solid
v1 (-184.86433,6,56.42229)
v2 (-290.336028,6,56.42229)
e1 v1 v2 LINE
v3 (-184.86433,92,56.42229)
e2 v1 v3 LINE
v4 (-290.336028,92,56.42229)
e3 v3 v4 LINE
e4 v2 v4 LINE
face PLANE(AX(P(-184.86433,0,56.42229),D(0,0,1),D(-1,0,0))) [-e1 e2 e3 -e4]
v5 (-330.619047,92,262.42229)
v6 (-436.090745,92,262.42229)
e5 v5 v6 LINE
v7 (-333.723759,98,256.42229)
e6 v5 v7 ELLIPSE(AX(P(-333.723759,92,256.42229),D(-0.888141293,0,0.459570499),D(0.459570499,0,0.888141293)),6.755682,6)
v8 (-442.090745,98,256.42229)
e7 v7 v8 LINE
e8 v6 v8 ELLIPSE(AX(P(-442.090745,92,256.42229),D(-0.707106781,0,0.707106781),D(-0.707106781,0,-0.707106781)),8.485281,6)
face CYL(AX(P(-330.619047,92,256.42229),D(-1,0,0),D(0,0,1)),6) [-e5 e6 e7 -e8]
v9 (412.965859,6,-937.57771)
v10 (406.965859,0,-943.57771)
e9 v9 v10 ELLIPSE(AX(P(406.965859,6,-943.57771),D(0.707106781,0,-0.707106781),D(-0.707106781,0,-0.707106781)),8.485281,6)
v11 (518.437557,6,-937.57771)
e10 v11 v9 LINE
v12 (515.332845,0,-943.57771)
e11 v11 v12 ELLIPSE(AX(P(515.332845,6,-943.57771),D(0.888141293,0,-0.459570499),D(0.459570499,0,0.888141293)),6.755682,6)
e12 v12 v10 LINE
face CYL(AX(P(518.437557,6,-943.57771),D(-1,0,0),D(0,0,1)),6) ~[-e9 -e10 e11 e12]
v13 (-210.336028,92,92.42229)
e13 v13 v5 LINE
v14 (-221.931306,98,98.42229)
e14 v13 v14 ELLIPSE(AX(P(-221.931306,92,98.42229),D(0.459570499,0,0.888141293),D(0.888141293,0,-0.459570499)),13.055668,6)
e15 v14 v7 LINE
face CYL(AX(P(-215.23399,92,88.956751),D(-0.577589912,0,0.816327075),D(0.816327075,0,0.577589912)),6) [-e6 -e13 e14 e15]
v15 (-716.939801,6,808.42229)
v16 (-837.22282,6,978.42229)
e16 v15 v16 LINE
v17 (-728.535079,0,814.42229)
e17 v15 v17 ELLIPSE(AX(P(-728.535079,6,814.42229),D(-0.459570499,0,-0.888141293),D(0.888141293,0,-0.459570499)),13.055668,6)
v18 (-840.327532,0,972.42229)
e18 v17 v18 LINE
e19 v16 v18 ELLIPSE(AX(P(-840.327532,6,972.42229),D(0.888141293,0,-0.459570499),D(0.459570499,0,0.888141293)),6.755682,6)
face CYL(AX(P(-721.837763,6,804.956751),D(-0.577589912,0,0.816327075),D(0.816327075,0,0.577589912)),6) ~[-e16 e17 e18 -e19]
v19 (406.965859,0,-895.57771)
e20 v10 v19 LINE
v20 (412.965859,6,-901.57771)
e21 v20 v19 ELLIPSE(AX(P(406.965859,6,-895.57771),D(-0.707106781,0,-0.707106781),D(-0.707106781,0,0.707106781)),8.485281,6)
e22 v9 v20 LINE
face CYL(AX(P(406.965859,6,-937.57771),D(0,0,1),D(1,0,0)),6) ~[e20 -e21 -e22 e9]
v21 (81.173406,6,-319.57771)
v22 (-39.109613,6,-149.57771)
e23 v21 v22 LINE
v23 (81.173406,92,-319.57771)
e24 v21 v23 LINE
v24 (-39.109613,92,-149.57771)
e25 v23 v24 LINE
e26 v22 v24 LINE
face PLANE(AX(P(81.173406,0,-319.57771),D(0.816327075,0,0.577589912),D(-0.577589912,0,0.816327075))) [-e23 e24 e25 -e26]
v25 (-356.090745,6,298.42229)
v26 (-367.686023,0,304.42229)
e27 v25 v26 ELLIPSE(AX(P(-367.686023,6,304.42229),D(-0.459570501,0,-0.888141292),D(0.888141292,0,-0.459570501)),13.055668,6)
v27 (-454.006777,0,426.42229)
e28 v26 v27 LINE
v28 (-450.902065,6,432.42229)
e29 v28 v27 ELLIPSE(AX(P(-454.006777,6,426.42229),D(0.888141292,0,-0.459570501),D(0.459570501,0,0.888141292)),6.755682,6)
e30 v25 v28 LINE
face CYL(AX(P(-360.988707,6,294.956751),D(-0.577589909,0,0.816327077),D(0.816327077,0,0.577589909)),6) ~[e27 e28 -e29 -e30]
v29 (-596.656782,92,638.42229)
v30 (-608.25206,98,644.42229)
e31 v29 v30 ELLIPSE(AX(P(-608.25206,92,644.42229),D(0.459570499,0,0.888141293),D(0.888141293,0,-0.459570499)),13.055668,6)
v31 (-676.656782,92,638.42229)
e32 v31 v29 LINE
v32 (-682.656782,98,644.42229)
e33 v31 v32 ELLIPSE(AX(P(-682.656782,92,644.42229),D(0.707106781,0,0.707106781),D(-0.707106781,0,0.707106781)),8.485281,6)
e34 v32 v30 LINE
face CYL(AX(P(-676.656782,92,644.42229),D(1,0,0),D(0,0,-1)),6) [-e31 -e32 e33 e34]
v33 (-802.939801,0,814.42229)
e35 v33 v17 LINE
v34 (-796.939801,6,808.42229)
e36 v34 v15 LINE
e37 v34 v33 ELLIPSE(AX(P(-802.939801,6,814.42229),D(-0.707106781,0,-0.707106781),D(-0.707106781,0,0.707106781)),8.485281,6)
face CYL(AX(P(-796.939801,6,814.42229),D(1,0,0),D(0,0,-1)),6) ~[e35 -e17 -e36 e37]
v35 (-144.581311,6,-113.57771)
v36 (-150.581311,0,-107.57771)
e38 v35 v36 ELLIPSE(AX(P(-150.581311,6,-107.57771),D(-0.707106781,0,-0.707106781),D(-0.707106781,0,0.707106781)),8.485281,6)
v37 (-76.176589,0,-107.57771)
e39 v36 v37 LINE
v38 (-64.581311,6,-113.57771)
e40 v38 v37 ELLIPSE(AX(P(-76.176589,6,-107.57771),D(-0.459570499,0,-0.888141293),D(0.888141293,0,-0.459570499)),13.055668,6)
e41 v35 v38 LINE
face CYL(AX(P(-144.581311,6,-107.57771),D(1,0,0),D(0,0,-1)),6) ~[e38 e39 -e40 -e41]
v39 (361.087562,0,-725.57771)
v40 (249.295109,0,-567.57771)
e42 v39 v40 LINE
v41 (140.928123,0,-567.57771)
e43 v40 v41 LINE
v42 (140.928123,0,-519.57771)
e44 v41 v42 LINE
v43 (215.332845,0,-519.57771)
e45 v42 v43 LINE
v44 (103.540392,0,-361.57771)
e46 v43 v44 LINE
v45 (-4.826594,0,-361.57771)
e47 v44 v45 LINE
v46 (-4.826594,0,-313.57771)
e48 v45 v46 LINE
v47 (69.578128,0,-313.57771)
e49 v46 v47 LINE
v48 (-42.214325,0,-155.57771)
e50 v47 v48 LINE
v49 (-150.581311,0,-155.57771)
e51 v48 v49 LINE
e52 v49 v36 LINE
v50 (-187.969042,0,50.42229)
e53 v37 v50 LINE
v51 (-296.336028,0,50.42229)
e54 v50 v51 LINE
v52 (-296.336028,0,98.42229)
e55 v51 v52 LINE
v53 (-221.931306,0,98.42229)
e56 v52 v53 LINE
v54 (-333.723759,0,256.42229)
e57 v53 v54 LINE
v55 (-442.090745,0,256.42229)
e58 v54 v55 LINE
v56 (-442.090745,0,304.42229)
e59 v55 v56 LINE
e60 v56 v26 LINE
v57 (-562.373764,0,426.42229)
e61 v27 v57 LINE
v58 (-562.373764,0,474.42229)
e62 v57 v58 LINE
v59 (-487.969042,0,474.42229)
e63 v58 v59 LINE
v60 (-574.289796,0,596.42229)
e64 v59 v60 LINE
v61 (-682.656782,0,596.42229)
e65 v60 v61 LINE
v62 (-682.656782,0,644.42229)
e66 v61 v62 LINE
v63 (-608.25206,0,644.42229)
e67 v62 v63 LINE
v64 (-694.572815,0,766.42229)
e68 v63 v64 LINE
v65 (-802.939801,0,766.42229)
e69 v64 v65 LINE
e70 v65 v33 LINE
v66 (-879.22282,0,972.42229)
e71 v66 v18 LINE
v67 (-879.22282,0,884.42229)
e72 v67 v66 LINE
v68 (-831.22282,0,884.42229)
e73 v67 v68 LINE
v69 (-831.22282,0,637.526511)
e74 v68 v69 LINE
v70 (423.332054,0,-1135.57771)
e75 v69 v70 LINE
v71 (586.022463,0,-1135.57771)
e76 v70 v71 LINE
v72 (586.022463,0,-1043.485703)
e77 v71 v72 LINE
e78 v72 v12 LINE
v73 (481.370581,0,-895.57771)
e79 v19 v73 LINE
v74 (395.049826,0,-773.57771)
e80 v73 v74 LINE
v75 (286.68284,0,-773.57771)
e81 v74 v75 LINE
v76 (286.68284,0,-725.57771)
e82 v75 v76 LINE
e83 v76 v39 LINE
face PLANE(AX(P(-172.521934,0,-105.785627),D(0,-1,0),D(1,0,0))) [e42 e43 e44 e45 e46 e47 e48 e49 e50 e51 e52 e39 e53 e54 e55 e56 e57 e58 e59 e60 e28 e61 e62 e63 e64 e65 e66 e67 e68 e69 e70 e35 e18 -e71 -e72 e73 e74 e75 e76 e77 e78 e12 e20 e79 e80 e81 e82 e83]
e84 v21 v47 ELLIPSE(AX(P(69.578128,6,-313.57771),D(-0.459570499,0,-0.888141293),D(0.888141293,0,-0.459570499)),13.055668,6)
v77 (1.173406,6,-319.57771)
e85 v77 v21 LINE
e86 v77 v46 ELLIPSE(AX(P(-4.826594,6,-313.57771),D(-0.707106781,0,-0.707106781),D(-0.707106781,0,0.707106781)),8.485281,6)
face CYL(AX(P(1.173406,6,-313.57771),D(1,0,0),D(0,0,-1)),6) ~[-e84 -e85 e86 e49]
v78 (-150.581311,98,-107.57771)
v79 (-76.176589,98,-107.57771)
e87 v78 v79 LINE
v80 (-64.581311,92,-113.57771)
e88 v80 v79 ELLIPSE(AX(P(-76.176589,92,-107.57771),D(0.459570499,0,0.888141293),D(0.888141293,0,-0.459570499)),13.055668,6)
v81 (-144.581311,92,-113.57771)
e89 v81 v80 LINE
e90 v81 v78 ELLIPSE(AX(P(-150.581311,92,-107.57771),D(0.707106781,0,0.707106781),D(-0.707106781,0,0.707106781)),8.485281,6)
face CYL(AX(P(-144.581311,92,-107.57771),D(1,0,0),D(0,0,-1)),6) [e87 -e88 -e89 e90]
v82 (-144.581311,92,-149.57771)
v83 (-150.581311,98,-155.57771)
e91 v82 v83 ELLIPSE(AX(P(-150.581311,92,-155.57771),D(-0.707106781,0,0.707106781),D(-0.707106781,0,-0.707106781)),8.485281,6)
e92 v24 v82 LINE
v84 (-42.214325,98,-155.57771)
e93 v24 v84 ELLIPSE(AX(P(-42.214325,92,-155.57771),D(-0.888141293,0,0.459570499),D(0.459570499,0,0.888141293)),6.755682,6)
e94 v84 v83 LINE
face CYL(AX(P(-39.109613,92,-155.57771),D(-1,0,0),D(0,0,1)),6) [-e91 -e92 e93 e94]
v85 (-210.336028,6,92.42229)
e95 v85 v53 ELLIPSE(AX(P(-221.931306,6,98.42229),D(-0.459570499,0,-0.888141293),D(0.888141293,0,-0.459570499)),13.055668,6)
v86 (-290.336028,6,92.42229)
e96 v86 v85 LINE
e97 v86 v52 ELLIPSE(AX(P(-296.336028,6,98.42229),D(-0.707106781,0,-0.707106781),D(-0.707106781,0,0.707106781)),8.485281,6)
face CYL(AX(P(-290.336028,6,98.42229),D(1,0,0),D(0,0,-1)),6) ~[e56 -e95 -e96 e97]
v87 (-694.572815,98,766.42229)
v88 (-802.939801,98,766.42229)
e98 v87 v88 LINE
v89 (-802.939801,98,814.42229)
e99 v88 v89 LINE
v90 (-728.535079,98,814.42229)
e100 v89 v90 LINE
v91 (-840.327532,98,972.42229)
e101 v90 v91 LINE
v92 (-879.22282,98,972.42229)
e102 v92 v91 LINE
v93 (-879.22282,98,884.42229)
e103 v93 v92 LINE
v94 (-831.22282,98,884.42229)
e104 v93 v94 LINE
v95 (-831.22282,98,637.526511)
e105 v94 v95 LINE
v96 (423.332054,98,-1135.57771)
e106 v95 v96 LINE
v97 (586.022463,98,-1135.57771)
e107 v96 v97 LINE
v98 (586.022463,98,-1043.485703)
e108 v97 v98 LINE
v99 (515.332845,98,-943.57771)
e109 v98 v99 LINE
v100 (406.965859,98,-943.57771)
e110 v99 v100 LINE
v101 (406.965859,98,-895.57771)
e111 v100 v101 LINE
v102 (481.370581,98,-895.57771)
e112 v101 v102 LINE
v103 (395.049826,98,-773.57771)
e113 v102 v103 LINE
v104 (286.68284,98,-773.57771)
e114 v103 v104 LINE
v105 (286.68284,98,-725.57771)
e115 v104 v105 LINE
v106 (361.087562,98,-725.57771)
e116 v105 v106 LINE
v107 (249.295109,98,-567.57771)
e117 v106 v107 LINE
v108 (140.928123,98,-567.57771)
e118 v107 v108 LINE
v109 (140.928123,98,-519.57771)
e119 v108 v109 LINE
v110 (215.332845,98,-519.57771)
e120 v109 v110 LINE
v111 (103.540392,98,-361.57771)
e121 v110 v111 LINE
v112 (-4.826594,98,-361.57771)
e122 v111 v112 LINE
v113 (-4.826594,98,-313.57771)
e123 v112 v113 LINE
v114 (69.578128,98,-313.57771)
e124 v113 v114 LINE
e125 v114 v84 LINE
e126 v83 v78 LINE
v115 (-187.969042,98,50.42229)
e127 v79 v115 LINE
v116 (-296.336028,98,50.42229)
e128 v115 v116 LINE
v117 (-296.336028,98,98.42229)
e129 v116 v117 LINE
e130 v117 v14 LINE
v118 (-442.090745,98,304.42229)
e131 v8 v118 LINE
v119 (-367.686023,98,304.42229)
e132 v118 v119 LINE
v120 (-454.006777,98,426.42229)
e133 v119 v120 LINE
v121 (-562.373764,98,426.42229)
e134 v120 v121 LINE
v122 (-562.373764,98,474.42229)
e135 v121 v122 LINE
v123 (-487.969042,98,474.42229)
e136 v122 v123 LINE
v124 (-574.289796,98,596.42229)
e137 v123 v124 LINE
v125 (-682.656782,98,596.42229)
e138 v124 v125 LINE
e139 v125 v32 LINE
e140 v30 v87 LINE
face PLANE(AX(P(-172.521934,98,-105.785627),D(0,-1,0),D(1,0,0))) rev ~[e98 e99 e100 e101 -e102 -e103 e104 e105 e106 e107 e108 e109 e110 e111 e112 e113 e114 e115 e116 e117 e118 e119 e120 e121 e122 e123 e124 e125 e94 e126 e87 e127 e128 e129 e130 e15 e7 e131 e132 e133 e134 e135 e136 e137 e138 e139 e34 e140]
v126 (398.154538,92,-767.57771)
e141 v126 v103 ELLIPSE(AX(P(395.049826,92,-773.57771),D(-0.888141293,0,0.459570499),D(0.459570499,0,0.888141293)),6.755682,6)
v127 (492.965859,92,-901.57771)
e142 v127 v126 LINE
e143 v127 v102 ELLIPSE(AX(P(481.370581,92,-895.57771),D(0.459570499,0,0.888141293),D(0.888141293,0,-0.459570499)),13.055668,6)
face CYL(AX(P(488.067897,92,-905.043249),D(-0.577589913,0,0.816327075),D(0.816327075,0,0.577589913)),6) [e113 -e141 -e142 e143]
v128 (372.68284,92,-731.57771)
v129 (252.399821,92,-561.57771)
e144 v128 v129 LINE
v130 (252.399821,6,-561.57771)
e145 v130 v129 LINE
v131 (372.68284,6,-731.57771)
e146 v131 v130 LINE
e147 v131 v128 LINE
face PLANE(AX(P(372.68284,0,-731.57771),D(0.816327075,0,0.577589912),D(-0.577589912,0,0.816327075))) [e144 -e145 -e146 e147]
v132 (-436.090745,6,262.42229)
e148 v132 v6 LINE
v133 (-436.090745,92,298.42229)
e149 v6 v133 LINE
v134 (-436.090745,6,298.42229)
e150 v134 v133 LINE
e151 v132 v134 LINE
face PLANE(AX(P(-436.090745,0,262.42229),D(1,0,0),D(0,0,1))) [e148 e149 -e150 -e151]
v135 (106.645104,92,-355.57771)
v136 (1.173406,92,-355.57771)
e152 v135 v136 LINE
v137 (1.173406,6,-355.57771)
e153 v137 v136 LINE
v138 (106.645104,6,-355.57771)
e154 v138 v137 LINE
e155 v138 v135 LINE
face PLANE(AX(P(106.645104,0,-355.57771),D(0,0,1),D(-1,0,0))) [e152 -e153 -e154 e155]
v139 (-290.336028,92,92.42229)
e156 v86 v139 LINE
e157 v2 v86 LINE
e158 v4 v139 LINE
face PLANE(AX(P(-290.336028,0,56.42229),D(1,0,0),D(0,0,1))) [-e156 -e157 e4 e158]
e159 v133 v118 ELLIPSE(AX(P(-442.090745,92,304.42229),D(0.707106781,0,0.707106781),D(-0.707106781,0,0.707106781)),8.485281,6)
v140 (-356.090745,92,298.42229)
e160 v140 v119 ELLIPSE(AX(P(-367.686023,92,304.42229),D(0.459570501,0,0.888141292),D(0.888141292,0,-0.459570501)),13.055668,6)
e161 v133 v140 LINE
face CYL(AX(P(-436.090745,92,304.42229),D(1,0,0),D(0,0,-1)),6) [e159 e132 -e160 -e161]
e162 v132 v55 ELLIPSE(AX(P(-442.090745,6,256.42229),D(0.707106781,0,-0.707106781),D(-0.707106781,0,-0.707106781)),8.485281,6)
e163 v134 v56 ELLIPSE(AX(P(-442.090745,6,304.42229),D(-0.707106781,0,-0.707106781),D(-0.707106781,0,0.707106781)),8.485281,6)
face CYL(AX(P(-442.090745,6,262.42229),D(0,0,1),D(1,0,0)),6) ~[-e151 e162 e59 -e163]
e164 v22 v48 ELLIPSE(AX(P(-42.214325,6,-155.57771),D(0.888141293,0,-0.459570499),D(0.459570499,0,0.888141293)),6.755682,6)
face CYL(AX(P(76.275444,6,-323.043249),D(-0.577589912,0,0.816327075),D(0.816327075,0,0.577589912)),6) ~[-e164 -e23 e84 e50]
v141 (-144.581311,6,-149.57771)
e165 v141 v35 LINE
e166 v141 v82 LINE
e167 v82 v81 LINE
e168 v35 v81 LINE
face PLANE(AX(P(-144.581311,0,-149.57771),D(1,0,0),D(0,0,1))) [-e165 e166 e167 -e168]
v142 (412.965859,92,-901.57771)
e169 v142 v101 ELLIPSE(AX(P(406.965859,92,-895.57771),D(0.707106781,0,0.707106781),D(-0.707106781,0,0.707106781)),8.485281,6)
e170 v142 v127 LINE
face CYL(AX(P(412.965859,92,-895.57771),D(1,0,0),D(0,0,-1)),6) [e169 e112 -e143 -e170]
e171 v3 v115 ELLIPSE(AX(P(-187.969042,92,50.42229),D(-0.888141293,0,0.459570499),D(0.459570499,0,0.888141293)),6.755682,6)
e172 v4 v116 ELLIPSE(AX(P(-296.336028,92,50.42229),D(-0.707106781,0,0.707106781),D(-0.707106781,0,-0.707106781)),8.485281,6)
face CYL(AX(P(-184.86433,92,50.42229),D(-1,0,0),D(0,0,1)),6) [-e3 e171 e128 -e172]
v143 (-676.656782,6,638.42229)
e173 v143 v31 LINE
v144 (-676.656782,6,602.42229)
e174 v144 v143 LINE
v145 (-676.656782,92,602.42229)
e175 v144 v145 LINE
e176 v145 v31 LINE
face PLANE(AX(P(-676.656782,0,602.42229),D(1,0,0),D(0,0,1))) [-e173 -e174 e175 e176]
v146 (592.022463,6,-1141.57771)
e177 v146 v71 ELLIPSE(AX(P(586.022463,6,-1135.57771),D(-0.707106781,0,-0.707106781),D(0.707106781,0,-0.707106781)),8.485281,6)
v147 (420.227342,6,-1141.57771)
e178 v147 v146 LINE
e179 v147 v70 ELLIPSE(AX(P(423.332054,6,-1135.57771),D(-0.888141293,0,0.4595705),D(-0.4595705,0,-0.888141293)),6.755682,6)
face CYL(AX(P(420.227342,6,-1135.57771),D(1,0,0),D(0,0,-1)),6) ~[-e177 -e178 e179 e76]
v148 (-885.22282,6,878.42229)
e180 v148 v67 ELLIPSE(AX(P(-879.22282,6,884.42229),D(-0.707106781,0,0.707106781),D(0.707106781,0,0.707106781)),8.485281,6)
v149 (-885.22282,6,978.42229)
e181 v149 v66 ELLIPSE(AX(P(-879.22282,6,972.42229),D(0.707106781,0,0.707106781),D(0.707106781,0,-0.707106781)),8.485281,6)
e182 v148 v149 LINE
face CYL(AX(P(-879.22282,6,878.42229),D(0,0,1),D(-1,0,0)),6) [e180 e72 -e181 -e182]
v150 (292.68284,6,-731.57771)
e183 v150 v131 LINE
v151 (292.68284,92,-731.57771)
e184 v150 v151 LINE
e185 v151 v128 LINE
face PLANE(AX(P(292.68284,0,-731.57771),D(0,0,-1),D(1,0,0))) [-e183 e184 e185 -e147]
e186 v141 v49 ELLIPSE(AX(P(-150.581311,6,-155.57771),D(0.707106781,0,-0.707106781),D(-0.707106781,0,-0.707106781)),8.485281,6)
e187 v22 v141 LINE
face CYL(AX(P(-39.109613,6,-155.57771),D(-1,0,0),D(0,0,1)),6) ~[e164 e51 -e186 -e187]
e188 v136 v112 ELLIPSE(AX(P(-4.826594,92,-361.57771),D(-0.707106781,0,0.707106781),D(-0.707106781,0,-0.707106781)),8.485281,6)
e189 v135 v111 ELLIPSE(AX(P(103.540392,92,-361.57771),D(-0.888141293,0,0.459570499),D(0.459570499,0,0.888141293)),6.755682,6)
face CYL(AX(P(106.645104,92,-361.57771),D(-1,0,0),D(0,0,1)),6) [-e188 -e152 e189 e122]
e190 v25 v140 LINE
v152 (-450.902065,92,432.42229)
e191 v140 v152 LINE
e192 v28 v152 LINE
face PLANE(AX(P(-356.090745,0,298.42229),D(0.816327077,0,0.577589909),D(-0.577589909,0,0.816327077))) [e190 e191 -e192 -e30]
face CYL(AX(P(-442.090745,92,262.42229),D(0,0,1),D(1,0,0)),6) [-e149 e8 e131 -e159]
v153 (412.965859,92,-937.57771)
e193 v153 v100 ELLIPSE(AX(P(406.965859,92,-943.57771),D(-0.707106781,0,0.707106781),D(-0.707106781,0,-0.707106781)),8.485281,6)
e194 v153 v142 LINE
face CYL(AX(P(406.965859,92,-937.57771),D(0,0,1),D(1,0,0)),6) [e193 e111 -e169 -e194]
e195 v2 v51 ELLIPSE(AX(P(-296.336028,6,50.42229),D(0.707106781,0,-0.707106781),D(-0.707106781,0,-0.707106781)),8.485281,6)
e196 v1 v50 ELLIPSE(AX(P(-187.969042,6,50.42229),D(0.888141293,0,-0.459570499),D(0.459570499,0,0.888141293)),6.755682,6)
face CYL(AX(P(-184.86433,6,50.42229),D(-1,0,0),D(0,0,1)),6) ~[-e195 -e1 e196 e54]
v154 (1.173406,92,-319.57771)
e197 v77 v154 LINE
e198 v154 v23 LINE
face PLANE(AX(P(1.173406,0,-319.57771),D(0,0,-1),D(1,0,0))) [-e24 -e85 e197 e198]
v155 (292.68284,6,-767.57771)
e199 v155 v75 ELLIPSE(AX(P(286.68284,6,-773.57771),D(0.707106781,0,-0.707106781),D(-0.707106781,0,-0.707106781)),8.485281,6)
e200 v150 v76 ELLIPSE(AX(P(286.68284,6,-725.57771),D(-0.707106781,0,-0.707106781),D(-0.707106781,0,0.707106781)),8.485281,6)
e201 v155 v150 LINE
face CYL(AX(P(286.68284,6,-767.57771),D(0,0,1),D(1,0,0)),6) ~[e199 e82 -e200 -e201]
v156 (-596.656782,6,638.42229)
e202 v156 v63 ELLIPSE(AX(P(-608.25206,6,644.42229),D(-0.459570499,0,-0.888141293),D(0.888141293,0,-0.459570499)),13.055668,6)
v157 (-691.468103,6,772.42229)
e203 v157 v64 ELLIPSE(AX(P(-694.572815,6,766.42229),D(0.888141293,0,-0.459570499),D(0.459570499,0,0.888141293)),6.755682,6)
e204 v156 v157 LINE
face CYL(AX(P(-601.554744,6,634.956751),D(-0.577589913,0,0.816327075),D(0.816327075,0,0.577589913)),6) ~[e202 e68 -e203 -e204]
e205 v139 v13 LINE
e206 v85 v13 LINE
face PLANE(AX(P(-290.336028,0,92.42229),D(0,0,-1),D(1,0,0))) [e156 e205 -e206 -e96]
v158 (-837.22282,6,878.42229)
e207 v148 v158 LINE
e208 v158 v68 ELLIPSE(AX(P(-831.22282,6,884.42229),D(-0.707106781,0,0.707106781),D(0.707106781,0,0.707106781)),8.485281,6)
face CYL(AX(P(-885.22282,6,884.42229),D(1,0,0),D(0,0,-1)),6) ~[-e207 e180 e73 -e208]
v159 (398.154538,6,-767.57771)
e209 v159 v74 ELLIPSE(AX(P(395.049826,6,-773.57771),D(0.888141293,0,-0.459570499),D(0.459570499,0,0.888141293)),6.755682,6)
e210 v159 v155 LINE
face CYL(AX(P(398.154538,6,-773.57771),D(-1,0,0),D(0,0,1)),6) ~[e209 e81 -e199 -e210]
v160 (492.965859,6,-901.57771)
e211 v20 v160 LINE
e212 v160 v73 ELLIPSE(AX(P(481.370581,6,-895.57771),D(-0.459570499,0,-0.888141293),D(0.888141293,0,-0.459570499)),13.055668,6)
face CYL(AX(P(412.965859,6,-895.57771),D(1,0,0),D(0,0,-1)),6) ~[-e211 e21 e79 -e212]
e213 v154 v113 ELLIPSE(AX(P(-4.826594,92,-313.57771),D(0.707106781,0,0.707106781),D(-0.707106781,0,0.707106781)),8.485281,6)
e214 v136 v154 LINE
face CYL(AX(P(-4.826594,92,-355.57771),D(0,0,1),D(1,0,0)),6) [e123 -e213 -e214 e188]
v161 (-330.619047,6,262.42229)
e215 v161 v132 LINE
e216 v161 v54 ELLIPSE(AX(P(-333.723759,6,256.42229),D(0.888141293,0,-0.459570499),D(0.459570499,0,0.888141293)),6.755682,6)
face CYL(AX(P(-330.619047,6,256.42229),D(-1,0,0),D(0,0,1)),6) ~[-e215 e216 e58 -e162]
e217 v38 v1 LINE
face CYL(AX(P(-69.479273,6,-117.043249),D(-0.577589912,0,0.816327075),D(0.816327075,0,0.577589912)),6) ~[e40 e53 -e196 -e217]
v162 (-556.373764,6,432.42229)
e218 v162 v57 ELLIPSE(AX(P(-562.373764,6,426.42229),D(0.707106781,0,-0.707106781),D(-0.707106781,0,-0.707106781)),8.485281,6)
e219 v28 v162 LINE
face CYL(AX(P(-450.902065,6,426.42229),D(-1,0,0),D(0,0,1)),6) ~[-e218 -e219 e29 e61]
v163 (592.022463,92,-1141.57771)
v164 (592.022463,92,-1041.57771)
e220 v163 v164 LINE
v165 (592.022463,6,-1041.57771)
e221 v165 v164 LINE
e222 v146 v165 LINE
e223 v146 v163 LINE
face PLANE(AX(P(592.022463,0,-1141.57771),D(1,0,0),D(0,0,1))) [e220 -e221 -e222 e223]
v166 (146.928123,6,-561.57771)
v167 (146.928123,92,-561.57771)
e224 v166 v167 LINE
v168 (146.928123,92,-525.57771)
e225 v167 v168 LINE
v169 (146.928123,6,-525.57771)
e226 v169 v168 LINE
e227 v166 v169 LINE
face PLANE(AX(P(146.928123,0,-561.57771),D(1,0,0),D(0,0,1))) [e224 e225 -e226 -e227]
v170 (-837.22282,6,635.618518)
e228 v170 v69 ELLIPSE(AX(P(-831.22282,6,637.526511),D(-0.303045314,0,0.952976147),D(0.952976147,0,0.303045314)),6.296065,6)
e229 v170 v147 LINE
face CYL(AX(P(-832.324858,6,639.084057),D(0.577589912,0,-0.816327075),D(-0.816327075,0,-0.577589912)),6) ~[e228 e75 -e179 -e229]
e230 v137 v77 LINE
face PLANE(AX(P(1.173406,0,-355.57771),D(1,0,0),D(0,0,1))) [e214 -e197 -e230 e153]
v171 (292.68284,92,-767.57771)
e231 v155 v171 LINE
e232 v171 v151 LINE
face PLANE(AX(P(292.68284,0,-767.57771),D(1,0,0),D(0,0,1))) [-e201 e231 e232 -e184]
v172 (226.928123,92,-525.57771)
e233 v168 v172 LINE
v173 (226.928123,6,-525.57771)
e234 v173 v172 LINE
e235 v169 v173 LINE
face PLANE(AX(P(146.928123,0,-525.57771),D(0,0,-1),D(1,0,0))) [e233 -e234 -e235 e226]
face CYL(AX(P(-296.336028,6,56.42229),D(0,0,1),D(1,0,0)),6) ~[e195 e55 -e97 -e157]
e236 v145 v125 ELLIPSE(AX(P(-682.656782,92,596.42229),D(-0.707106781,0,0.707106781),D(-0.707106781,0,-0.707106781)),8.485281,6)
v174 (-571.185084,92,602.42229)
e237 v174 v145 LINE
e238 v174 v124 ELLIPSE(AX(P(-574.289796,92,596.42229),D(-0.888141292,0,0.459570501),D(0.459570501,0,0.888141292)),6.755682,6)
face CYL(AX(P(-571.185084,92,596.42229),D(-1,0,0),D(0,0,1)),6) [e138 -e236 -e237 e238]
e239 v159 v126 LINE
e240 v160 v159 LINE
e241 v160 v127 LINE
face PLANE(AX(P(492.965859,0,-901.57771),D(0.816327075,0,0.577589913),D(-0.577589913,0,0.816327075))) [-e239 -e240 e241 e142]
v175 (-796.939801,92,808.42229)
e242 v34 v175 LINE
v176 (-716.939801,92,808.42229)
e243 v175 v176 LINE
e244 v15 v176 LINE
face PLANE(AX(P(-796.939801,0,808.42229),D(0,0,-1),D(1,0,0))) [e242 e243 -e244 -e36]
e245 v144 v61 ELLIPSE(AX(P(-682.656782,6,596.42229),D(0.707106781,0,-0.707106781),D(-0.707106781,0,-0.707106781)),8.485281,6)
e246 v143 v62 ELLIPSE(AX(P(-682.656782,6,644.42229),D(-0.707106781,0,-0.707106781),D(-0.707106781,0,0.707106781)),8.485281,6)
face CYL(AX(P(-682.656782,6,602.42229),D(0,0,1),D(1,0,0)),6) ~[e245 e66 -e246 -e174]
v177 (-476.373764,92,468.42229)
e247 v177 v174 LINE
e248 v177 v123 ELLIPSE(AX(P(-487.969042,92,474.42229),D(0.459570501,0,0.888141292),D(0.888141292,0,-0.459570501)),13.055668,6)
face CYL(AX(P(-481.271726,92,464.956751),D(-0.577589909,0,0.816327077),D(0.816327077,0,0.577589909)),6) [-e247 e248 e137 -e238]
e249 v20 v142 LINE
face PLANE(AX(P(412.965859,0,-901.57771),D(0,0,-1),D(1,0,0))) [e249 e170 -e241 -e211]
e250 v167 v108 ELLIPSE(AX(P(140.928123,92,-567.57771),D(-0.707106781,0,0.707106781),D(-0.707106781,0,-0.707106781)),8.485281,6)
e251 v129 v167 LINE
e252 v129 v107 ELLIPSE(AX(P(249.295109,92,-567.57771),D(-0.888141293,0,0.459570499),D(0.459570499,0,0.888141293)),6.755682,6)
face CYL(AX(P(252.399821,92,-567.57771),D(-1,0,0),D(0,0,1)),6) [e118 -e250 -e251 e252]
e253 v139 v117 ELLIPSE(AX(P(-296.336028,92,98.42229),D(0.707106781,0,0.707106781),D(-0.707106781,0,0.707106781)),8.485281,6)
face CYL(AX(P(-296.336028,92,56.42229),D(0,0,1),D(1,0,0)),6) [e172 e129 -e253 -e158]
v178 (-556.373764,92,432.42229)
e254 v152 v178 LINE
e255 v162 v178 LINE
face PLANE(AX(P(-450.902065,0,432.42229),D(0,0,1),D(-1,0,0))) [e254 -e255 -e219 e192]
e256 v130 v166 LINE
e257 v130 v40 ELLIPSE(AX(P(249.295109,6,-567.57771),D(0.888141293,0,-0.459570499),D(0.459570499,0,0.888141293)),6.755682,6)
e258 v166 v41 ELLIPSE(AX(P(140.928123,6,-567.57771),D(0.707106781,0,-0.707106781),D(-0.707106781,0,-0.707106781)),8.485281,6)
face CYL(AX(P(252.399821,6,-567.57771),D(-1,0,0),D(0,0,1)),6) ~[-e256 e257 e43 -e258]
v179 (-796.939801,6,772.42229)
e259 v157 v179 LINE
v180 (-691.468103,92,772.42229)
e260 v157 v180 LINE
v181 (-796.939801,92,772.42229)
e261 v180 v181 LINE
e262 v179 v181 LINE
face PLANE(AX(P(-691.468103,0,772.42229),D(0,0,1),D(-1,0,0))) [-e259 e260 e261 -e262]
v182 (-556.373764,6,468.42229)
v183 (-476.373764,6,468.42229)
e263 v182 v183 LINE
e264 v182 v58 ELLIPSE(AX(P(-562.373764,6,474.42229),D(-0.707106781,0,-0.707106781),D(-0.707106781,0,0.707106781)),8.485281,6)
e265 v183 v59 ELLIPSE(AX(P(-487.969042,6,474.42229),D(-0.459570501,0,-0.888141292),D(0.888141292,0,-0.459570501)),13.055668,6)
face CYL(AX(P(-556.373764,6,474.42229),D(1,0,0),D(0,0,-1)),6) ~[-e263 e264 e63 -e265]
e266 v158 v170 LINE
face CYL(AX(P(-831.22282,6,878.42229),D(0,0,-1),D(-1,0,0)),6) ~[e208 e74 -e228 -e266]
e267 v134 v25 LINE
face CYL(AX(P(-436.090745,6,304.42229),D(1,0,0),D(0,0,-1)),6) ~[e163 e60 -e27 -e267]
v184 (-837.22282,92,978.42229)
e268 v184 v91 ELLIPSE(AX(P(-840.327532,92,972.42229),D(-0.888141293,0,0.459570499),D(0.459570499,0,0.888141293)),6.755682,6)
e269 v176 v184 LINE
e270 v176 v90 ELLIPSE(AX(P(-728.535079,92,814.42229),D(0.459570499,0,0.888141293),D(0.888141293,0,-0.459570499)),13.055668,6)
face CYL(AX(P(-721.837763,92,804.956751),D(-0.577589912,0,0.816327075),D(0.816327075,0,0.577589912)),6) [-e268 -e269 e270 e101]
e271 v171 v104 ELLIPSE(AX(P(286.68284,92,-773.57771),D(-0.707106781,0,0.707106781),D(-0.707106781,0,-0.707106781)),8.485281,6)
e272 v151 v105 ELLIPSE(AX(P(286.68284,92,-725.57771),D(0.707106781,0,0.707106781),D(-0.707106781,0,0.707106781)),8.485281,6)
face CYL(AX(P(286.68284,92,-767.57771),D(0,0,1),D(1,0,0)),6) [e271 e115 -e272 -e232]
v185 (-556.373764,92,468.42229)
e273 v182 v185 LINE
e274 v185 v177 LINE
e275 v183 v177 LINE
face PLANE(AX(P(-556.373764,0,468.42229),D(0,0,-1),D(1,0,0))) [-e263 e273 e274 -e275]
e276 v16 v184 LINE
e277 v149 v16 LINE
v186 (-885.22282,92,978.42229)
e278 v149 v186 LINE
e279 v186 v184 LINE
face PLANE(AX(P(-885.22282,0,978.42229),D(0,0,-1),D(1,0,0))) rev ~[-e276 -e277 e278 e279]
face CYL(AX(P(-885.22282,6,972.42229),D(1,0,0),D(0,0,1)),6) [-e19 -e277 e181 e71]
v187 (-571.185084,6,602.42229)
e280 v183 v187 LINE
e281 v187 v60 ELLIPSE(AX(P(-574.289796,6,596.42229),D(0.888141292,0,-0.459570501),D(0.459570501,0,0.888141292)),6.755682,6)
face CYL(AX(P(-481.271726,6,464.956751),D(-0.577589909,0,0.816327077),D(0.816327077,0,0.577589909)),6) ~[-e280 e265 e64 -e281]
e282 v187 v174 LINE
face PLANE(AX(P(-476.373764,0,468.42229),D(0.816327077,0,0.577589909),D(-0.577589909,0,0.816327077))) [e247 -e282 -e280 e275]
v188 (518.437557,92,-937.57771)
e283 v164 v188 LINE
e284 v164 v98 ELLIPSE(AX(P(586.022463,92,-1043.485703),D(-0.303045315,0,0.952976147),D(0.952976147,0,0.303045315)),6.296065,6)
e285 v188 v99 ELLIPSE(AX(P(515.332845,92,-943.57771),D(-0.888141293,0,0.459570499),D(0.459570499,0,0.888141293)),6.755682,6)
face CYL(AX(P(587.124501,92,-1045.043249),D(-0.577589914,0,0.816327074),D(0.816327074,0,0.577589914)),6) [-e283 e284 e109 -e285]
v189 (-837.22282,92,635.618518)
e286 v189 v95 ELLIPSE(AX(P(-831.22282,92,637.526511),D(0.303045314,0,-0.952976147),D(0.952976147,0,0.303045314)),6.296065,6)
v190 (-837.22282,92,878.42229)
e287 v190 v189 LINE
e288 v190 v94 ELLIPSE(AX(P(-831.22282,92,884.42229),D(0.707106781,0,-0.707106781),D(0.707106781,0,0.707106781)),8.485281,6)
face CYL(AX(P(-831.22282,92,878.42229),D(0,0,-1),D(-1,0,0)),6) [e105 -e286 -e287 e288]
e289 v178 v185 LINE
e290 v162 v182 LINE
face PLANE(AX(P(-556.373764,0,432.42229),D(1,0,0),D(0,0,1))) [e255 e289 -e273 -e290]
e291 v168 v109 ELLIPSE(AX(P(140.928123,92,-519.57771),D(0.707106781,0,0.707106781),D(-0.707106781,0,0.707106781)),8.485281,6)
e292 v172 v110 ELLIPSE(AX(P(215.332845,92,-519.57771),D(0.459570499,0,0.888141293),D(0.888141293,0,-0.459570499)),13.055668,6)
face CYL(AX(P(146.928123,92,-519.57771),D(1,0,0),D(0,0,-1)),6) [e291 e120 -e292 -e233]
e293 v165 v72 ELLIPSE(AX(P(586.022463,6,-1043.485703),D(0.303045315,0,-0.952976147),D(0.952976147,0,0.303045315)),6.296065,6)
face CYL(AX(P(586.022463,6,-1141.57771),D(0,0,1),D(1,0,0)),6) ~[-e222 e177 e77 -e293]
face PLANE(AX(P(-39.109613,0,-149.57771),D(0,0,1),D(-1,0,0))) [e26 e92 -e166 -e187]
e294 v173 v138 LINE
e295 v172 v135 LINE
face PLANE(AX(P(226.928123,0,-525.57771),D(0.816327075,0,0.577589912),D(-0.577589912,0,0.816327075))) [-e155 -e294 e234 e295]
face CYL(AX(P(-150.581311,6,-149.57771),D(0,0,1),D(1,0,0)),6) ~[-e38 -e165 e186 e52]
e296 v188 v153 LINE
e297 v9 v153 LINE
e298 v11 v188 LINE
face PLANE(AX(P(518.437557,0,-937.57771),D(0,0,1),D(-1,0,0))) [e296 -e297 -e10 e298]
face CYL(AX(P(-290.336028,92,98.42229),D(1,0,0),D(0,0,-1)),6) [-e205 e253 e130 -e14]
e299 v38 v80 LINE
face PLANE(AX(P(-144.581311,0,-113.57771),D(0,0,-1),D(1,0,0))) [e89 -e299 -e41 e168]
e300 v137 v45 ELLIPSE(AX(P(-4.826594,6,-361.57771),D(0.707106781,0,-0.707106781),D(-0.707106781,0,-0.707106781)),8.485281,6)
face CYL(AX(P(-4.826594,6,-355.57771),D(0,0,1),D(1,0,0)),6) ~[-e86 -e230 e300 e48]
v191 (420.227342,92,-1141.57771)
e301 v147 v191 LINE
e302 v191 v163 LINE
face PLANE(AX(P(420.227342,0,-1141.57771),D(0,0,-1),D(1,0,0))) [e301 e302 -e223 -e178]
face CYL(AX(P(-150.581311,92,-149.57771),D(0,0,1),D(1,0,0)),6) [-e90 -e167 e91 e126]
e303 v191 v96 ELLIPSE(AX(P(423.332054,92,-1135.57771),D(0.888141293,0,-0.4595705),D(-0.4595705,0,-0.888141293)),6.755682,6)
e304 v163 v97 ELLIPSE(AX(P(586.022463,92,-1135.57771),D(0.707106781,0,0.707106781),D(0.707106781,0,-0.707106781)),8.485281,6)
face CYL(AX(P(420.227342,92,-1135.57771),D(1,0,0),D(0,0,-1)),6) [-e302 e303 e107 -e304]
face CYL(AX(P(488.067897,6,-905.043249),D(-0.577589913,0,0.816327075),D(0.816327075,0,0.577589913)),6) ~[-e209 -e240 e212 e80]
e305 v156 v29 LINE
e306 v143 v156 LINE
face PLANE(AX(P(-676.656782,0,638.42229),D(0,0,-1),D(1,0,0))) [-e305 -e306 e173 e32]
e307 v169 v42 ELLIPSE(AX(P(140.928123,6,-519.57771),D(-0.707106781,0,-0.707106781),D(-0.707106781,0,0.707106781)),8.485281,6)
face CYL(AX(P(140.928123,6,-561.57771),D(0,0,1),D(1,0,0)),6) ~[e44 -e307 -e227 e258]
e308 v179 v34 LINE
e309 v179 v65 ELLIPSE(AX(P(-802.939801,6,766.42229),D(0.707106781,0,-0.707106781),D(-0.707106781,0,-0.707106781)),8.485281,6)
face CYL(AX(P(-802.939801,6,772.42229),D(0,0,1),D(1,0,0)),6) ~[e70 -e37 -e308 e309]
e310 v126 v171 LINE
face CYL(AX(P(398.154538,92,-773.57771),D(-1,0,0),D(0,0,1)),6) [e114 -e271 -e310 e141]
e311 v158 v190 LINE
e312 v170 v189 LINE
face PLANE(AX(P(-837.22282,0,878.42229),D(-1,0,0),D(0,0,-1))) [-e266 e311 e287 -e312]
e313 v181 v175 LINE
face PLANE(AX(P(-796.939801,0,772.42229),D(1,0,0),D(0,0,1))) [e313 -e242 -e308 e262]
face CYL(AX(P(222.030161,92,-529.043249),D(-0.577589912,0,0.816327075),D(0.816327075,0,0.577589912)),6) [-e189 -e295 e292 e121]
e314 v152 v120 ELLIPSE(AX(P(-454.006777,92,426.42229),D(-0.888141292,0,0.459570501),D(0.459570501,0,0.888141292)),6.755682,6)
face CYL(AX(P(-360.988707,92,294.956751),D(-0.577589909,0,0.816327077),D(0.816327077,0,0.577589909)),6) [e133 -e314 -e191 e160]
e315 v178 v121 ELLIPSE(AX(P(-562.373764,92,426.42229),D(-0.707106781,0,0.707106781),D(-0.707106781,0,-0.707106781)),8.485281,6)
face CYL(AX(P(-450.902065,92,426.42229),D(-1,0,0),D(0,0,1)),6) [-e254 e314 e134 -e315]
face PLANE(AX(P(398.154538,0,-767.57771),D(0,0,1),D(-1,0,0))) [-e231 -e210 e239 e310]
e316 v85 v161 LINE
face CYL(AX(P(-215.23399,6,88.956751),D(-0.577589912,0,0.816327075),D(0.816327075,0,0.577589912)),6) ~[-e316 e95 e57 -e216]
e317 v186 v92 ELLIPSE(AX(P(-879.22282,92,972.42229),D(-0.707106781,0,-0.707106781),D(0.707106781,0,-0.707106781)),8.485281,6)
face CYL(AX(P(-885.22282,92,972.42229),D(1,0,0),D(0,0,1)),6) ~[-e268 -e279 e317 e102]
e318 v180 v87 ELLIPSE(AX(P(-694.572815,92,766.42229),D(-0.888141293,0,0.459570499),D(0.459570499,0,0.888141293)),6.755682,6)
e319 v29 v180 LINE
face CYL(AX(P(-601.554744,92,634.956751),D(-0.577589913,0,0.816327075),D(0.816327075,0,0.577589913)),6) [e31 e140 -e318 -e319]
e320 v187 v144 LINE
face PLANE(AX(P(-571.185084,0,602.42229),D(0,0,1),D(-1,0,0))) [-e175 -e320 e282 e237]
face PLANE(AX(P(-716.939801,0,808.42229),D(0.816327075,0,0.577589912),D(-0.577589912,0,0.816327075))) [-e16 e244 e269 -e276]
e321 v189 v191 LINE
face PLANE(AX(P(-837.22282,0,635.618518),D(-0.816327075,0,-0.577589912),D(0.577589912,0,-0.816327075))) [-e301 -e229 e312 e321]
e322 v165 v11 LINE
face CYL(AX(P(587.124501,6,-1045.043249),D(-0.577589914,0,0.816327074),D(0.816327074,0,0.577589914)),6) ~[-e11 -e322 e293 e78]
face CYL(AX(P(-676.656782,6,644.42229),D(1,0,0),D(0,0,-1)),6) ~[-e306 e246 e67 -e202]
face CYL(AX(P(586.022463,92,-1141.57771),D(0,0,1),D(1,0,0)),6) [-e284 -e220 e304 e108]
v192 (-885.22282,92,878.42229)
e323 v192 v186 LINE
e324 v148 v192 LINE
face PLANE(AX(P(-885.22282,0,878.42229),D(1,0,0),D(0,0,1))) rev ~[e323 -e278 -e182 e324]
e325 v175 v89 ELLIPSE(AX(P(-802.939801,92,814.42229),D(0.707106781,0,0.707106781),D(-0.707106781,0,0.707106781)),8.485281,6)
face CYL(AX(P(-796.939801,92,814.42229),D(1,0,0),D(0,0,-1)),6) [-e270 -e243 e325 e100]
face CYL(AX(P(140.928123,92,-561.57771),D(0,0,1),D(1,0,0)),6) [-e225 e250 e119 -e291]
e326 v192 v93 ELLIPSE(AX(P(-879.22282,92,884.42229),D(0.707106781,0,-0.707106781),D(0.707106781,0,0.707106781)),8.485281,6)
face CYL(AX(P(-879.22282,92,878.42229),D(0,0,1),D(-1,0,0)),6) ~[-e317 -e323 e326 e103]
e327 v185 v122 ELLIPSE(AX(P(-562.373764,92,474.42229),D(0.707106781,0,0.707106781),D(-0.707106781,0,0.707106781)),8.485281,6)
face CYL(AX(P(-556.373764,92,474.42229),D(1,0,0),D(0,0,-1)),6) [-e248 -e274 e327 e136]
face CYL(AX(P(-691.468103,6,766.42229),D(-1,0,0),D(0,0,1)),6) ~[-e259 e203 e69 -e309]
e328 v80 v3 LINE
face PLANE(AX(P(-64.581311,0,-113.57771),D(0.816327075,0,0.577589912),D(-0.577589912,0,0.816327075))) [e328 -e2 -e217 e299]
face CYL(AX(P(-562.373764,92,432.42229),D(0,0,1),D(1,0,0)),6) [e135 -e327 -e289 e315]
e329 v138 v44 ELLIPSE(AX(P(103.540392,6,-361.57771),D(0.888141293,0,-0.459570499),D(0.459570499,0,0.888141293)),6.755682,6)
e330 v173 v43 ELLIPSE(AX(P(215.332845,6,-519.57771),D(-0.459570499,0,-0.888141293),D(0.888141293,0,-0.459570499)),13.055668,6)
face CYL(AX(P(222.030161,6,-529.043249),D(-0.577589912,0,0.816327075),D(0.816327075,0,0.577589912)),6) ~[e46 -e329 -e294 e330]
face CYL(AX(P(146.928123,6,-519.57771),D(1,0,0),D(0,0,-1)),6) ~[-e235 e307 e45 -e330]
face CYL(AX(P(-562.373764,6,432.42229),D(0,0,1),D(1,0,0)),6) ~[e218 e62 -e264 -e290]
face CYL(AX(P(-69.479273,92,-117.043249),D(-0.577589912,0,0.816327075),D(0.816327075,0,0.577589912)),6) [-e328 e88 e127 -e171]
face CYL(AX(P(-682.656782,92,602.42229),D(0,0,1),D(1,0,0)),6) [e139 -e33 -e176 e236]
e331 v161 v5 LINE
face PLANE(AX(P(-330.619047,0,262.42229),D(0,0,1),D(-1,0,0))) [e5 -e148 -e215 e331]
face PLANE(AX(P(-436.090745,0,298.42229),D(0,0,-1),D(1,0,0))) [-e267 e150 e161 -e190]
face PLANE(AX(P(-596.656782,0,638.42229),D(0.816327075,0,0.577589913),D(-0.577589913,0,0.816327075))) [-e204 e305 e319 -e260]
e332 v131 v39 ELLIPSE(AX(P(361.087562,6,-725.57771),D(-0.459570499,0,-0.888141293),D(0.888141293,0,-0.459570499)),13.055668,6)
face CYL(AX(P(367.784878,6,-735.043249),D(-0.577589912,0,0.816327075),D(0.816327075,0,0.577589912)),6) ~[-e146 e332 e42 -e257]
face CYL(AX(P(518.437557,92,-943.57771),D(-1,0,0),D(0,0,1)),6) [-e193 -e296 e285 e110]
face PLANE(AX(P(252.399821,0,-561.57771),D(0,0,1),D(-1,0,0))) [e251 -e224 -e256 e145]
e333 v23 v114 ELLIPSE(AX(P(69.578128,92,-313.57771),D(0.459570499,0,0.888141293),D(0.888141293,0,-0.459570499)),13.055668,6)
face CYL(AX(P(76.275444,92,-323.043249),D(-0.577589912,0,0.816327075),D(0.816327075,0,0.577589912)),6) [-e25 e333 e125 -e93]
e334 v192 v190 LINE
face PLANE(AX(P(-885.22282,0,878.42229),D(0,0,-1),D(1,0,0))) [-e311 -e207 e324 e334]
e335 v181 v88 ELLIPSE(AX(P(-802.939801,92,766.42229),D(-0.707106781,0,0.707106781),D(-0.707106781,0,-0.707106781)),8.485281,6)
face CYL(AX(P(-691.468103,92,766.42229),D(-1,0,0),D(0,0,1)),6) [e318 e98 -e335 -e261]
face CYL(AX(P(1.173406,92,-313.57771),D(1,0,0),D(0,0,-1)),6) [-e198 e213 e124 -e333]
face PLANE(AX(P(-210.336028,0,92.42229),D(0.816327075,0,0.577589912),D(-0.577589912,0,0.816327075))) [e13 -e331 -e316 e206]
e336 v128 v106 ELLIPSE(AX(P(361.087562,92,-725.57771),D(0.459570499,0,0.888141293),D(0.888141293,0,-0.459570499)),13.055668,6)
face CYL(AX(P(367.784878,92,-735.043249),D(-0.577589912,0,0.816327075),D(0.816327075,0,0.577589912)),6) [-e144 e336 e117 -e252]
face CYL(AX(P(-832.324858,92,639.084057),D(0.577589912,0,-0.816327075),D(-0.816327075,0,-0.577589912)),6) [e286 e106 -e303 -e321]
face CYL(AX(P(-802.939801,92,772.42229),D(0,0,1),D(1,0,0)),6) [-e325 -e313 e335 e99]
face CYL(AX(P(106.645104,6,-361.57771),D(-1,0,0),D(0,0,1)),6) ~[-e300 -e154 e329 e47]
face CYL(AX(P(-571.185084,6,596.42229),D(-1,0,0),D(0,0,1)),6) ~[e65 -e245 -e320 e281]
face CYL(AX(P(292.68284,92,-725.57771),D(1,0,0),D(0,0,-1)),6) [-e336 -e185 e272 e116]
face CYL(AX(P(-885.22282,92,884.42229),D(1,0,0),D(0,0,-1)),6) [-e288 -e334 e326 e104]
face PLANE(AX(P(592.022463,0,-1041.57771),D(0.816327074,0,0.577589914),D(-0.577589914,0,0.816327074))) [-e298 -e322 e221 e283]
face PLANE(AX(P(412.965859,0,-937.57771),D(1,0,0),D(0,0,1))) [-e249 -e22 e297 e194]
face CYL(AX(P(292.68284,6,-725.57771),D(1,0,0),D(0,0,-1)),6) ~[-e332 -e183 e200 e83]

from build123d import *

# Parameters (mm, degrees)
F0_W     = 48
F0_H     = 100
F1_DEPTH = 98
F2_R     = 6


with BuildPart() as f1:
    # F0 (on Front) → F1 (new body)
    with BuildSketch(Plane.XZ):
        Polygon((-716.939801, 808.42229), (-837.22282, 978.42229), (-837.22282, 878.42229), (-837.22282, 635.618518), (420.227342, -1141.57771), (592.022463, -1141.57771), (592.022463, -1041.57771), (518.437557, -937.57771), (412.965859, -937.57771), (412.965859, -901.57771), (492.965859, -901.57771), (398.154538, -767.57771), (292.68284, -767.57771), (292.68284, -731.57771), (372.68284, -731.57771), (252.399821, -561.57771), (146.928123, -561.57771), (146.928123, -525.57771), (226.928123, -525.57771), (106.645104, -355.57771), (1.173406, -355.57771), (1.173406, -319.57771), (81.173406, -319.57771), (-39.109613, -149.57771), (-144.581311, -149.57771), (-144.581311, -113.57771), (-64.581311, -113.57771), (-184.86433, 56.42229), (-290.336028, 56.42229), (-290.336028, 92.42229), (-210.336028, 92.42229), (-330.619047, 262.42229), (-436.090745, 262.42229), (-436.090745, 298.42229), (-356.090745, 298.42229), (-450.902065, 432.42229), (-556.373764, 432.42229), (-556.373764, 468.42229), (-476.373764, 468.42229), (-571.185084, 602.42229), (-676.656782, 602.42229), (-676.656782, 638.42229), (-596.656782, 638.42229), (-691.468103, 772.42229), (-796.939801, 772.42229), (-796.939801, 808.42229), align=None)
        with Locations((-861.22282, 928.42229)):
            Rectangle(F0_W, F0_H)
    extrude(amount=-F1_DEPTH)

    # F2
    f2_edges = [f1.edges().sort_by_distance(p)[0] for p in [
        (-208.497739, 0, -252.979596),
        (506.124902, 0, -1141.57771),
        (592.022463, 0, -1091.57771),
        (555.23001, 0, -989.57771),
        (465.701708, 0, -937.57771),
        (412.965859, 0, -919.57771),
        (452.965859, 0, -901.57771),
        (445.560199, 0, -834.57771),
        (345.418689, 0, -767.57771),
        (292.68284, 0, -749.57771),
        (332.68284, 0, -731.57771),
        (312.541331, 0, -646.57771),
        (199.663972, 0, -561.57771),
        (146.928123, 0, -543.57771),
        (186.928123, 0, -525.57771),
        (166.786614, 0, -440.57771),
        (53.909255, 0, -355.57771),
        (1.173406, 0, -337.57771),
        (41.173406, 0, -319.57771),
        (21.031897, 0, -234.57771),
        (-91.845462, 0, -149.57771),
        (-144.581311, 0, -131.57771),
        (-104.581311, 0, -113.57771),
        (-124.72282, 0, -28.57771),
        (-237.600179, 0, 56.42229),
        (-290.336028, 0, 74.42229),
        (-250.336028, 0, 92.42229),
        (-270.477537, 0, 177.42229),
        (-383.354896, 0, 262.42229),
        (-436.090745, 0, 280.42229),
        (-396.090745, 0, 298.42229),
        (-403.496405, 0, 365.42229),
        (-503.637914, 0, 432.42229),
        (-556.373764, 0, 450.42229),
        (-516.373764, 0, 468.42229),
        (-523.779424, 0, 535.42229),
        (-623.920933, 0, 602.42229),
        (-676.656782, 0, 620.42229),
        (-636.656782, 0, 638.42229),
        (-644.062443, 0, 705.42229),
        (-744.203952, 0, 772.42229),
        (-796.939801, 0, 790.42229),
        (-756.939801, 0, 808.42229),
        (-777.081311, 0, 893.42229),
        (-861.22282, 0, 978.42229),
        (-885.22282, 0, 928.42229),
        (-861.22282, 0, 878.42229),
        (-837.22282, 0, 757.020404),
        (-208.497739, 98, -252.979596),
        (506.124902, 98, -1141.57771),
        (592.022463, 98, -1091.57771),
        (555.23001, 98, -989.57771),
        (465.701708, 98, -937.57771),
        (412.965859, 98, -919.57771),
        (452.965859, 98, -901.57771),
        (445.560199, 98, -834.57771),
        (345.418689, 98, -767.57771),
        (292.68284, 98, -749.57771),
        (332.68284, 98, -731.57771),
        (312.541331, 98, -646.57771),
        (199.663972, 98, -561.57771),
        (146.928123, 98, -543.57771),
        (186.928123, 98, -525.57771),
        (166.786614, 98, -440.57771),
        (53.909255, 98, -355.57771),
        (1.173406, 98, -337.57771),
        (41.173406, 98, -319.57771),
        (21.031897, 98, -234.57771),
        (-91.845462, 98, -149.57771),
        (-144.581311, 98, -131.57771),
        (-104.581311, 98, -113.57771),
        (-124.72282, 98, -28.57771),
        (-237.600179, 98, 56.42229),
        (-290.336028, 98, 74.42229),
        (-250.336028, 98, 92.42229),
        (-270.477537, 98, 177.42229),
        (-383.354896, 98, 262.42229),
        (-436.090745, 98, 280.42229),
        (-396.090745, 98, 298.42229),
        (-403.496405, 98, 365.42229),
        (-503.637914, 98, 432.42229),
        (-556.373764, 98, 450.42229),
        (-516.373764, 98, 468.42229),
        (-523.779424, 98, 535.42229),
        (-623.920933, 98, 602.42229),
        (-676.656782, 98, 620.42229),
        (-636.656782, 98, 638.42229),
        (-644.062443, 98, 705.42229),
        (-744.203952, 98, 772.42229),
        (-796.939801, 98, 790.42229),
        (-756.939801, 98, 808.42229),
        (-777.081311, 98, 893.42229),
        (-861.22282, 98, 978.42229),
        (-885.22282, 98, 928.42229),
        (-861.22282, 98, 878.42229),
        (-837.22282, 98, 757.020404),
    ]]
    fillet(f2_edges, radius=F2_R)


solid = f1.part
